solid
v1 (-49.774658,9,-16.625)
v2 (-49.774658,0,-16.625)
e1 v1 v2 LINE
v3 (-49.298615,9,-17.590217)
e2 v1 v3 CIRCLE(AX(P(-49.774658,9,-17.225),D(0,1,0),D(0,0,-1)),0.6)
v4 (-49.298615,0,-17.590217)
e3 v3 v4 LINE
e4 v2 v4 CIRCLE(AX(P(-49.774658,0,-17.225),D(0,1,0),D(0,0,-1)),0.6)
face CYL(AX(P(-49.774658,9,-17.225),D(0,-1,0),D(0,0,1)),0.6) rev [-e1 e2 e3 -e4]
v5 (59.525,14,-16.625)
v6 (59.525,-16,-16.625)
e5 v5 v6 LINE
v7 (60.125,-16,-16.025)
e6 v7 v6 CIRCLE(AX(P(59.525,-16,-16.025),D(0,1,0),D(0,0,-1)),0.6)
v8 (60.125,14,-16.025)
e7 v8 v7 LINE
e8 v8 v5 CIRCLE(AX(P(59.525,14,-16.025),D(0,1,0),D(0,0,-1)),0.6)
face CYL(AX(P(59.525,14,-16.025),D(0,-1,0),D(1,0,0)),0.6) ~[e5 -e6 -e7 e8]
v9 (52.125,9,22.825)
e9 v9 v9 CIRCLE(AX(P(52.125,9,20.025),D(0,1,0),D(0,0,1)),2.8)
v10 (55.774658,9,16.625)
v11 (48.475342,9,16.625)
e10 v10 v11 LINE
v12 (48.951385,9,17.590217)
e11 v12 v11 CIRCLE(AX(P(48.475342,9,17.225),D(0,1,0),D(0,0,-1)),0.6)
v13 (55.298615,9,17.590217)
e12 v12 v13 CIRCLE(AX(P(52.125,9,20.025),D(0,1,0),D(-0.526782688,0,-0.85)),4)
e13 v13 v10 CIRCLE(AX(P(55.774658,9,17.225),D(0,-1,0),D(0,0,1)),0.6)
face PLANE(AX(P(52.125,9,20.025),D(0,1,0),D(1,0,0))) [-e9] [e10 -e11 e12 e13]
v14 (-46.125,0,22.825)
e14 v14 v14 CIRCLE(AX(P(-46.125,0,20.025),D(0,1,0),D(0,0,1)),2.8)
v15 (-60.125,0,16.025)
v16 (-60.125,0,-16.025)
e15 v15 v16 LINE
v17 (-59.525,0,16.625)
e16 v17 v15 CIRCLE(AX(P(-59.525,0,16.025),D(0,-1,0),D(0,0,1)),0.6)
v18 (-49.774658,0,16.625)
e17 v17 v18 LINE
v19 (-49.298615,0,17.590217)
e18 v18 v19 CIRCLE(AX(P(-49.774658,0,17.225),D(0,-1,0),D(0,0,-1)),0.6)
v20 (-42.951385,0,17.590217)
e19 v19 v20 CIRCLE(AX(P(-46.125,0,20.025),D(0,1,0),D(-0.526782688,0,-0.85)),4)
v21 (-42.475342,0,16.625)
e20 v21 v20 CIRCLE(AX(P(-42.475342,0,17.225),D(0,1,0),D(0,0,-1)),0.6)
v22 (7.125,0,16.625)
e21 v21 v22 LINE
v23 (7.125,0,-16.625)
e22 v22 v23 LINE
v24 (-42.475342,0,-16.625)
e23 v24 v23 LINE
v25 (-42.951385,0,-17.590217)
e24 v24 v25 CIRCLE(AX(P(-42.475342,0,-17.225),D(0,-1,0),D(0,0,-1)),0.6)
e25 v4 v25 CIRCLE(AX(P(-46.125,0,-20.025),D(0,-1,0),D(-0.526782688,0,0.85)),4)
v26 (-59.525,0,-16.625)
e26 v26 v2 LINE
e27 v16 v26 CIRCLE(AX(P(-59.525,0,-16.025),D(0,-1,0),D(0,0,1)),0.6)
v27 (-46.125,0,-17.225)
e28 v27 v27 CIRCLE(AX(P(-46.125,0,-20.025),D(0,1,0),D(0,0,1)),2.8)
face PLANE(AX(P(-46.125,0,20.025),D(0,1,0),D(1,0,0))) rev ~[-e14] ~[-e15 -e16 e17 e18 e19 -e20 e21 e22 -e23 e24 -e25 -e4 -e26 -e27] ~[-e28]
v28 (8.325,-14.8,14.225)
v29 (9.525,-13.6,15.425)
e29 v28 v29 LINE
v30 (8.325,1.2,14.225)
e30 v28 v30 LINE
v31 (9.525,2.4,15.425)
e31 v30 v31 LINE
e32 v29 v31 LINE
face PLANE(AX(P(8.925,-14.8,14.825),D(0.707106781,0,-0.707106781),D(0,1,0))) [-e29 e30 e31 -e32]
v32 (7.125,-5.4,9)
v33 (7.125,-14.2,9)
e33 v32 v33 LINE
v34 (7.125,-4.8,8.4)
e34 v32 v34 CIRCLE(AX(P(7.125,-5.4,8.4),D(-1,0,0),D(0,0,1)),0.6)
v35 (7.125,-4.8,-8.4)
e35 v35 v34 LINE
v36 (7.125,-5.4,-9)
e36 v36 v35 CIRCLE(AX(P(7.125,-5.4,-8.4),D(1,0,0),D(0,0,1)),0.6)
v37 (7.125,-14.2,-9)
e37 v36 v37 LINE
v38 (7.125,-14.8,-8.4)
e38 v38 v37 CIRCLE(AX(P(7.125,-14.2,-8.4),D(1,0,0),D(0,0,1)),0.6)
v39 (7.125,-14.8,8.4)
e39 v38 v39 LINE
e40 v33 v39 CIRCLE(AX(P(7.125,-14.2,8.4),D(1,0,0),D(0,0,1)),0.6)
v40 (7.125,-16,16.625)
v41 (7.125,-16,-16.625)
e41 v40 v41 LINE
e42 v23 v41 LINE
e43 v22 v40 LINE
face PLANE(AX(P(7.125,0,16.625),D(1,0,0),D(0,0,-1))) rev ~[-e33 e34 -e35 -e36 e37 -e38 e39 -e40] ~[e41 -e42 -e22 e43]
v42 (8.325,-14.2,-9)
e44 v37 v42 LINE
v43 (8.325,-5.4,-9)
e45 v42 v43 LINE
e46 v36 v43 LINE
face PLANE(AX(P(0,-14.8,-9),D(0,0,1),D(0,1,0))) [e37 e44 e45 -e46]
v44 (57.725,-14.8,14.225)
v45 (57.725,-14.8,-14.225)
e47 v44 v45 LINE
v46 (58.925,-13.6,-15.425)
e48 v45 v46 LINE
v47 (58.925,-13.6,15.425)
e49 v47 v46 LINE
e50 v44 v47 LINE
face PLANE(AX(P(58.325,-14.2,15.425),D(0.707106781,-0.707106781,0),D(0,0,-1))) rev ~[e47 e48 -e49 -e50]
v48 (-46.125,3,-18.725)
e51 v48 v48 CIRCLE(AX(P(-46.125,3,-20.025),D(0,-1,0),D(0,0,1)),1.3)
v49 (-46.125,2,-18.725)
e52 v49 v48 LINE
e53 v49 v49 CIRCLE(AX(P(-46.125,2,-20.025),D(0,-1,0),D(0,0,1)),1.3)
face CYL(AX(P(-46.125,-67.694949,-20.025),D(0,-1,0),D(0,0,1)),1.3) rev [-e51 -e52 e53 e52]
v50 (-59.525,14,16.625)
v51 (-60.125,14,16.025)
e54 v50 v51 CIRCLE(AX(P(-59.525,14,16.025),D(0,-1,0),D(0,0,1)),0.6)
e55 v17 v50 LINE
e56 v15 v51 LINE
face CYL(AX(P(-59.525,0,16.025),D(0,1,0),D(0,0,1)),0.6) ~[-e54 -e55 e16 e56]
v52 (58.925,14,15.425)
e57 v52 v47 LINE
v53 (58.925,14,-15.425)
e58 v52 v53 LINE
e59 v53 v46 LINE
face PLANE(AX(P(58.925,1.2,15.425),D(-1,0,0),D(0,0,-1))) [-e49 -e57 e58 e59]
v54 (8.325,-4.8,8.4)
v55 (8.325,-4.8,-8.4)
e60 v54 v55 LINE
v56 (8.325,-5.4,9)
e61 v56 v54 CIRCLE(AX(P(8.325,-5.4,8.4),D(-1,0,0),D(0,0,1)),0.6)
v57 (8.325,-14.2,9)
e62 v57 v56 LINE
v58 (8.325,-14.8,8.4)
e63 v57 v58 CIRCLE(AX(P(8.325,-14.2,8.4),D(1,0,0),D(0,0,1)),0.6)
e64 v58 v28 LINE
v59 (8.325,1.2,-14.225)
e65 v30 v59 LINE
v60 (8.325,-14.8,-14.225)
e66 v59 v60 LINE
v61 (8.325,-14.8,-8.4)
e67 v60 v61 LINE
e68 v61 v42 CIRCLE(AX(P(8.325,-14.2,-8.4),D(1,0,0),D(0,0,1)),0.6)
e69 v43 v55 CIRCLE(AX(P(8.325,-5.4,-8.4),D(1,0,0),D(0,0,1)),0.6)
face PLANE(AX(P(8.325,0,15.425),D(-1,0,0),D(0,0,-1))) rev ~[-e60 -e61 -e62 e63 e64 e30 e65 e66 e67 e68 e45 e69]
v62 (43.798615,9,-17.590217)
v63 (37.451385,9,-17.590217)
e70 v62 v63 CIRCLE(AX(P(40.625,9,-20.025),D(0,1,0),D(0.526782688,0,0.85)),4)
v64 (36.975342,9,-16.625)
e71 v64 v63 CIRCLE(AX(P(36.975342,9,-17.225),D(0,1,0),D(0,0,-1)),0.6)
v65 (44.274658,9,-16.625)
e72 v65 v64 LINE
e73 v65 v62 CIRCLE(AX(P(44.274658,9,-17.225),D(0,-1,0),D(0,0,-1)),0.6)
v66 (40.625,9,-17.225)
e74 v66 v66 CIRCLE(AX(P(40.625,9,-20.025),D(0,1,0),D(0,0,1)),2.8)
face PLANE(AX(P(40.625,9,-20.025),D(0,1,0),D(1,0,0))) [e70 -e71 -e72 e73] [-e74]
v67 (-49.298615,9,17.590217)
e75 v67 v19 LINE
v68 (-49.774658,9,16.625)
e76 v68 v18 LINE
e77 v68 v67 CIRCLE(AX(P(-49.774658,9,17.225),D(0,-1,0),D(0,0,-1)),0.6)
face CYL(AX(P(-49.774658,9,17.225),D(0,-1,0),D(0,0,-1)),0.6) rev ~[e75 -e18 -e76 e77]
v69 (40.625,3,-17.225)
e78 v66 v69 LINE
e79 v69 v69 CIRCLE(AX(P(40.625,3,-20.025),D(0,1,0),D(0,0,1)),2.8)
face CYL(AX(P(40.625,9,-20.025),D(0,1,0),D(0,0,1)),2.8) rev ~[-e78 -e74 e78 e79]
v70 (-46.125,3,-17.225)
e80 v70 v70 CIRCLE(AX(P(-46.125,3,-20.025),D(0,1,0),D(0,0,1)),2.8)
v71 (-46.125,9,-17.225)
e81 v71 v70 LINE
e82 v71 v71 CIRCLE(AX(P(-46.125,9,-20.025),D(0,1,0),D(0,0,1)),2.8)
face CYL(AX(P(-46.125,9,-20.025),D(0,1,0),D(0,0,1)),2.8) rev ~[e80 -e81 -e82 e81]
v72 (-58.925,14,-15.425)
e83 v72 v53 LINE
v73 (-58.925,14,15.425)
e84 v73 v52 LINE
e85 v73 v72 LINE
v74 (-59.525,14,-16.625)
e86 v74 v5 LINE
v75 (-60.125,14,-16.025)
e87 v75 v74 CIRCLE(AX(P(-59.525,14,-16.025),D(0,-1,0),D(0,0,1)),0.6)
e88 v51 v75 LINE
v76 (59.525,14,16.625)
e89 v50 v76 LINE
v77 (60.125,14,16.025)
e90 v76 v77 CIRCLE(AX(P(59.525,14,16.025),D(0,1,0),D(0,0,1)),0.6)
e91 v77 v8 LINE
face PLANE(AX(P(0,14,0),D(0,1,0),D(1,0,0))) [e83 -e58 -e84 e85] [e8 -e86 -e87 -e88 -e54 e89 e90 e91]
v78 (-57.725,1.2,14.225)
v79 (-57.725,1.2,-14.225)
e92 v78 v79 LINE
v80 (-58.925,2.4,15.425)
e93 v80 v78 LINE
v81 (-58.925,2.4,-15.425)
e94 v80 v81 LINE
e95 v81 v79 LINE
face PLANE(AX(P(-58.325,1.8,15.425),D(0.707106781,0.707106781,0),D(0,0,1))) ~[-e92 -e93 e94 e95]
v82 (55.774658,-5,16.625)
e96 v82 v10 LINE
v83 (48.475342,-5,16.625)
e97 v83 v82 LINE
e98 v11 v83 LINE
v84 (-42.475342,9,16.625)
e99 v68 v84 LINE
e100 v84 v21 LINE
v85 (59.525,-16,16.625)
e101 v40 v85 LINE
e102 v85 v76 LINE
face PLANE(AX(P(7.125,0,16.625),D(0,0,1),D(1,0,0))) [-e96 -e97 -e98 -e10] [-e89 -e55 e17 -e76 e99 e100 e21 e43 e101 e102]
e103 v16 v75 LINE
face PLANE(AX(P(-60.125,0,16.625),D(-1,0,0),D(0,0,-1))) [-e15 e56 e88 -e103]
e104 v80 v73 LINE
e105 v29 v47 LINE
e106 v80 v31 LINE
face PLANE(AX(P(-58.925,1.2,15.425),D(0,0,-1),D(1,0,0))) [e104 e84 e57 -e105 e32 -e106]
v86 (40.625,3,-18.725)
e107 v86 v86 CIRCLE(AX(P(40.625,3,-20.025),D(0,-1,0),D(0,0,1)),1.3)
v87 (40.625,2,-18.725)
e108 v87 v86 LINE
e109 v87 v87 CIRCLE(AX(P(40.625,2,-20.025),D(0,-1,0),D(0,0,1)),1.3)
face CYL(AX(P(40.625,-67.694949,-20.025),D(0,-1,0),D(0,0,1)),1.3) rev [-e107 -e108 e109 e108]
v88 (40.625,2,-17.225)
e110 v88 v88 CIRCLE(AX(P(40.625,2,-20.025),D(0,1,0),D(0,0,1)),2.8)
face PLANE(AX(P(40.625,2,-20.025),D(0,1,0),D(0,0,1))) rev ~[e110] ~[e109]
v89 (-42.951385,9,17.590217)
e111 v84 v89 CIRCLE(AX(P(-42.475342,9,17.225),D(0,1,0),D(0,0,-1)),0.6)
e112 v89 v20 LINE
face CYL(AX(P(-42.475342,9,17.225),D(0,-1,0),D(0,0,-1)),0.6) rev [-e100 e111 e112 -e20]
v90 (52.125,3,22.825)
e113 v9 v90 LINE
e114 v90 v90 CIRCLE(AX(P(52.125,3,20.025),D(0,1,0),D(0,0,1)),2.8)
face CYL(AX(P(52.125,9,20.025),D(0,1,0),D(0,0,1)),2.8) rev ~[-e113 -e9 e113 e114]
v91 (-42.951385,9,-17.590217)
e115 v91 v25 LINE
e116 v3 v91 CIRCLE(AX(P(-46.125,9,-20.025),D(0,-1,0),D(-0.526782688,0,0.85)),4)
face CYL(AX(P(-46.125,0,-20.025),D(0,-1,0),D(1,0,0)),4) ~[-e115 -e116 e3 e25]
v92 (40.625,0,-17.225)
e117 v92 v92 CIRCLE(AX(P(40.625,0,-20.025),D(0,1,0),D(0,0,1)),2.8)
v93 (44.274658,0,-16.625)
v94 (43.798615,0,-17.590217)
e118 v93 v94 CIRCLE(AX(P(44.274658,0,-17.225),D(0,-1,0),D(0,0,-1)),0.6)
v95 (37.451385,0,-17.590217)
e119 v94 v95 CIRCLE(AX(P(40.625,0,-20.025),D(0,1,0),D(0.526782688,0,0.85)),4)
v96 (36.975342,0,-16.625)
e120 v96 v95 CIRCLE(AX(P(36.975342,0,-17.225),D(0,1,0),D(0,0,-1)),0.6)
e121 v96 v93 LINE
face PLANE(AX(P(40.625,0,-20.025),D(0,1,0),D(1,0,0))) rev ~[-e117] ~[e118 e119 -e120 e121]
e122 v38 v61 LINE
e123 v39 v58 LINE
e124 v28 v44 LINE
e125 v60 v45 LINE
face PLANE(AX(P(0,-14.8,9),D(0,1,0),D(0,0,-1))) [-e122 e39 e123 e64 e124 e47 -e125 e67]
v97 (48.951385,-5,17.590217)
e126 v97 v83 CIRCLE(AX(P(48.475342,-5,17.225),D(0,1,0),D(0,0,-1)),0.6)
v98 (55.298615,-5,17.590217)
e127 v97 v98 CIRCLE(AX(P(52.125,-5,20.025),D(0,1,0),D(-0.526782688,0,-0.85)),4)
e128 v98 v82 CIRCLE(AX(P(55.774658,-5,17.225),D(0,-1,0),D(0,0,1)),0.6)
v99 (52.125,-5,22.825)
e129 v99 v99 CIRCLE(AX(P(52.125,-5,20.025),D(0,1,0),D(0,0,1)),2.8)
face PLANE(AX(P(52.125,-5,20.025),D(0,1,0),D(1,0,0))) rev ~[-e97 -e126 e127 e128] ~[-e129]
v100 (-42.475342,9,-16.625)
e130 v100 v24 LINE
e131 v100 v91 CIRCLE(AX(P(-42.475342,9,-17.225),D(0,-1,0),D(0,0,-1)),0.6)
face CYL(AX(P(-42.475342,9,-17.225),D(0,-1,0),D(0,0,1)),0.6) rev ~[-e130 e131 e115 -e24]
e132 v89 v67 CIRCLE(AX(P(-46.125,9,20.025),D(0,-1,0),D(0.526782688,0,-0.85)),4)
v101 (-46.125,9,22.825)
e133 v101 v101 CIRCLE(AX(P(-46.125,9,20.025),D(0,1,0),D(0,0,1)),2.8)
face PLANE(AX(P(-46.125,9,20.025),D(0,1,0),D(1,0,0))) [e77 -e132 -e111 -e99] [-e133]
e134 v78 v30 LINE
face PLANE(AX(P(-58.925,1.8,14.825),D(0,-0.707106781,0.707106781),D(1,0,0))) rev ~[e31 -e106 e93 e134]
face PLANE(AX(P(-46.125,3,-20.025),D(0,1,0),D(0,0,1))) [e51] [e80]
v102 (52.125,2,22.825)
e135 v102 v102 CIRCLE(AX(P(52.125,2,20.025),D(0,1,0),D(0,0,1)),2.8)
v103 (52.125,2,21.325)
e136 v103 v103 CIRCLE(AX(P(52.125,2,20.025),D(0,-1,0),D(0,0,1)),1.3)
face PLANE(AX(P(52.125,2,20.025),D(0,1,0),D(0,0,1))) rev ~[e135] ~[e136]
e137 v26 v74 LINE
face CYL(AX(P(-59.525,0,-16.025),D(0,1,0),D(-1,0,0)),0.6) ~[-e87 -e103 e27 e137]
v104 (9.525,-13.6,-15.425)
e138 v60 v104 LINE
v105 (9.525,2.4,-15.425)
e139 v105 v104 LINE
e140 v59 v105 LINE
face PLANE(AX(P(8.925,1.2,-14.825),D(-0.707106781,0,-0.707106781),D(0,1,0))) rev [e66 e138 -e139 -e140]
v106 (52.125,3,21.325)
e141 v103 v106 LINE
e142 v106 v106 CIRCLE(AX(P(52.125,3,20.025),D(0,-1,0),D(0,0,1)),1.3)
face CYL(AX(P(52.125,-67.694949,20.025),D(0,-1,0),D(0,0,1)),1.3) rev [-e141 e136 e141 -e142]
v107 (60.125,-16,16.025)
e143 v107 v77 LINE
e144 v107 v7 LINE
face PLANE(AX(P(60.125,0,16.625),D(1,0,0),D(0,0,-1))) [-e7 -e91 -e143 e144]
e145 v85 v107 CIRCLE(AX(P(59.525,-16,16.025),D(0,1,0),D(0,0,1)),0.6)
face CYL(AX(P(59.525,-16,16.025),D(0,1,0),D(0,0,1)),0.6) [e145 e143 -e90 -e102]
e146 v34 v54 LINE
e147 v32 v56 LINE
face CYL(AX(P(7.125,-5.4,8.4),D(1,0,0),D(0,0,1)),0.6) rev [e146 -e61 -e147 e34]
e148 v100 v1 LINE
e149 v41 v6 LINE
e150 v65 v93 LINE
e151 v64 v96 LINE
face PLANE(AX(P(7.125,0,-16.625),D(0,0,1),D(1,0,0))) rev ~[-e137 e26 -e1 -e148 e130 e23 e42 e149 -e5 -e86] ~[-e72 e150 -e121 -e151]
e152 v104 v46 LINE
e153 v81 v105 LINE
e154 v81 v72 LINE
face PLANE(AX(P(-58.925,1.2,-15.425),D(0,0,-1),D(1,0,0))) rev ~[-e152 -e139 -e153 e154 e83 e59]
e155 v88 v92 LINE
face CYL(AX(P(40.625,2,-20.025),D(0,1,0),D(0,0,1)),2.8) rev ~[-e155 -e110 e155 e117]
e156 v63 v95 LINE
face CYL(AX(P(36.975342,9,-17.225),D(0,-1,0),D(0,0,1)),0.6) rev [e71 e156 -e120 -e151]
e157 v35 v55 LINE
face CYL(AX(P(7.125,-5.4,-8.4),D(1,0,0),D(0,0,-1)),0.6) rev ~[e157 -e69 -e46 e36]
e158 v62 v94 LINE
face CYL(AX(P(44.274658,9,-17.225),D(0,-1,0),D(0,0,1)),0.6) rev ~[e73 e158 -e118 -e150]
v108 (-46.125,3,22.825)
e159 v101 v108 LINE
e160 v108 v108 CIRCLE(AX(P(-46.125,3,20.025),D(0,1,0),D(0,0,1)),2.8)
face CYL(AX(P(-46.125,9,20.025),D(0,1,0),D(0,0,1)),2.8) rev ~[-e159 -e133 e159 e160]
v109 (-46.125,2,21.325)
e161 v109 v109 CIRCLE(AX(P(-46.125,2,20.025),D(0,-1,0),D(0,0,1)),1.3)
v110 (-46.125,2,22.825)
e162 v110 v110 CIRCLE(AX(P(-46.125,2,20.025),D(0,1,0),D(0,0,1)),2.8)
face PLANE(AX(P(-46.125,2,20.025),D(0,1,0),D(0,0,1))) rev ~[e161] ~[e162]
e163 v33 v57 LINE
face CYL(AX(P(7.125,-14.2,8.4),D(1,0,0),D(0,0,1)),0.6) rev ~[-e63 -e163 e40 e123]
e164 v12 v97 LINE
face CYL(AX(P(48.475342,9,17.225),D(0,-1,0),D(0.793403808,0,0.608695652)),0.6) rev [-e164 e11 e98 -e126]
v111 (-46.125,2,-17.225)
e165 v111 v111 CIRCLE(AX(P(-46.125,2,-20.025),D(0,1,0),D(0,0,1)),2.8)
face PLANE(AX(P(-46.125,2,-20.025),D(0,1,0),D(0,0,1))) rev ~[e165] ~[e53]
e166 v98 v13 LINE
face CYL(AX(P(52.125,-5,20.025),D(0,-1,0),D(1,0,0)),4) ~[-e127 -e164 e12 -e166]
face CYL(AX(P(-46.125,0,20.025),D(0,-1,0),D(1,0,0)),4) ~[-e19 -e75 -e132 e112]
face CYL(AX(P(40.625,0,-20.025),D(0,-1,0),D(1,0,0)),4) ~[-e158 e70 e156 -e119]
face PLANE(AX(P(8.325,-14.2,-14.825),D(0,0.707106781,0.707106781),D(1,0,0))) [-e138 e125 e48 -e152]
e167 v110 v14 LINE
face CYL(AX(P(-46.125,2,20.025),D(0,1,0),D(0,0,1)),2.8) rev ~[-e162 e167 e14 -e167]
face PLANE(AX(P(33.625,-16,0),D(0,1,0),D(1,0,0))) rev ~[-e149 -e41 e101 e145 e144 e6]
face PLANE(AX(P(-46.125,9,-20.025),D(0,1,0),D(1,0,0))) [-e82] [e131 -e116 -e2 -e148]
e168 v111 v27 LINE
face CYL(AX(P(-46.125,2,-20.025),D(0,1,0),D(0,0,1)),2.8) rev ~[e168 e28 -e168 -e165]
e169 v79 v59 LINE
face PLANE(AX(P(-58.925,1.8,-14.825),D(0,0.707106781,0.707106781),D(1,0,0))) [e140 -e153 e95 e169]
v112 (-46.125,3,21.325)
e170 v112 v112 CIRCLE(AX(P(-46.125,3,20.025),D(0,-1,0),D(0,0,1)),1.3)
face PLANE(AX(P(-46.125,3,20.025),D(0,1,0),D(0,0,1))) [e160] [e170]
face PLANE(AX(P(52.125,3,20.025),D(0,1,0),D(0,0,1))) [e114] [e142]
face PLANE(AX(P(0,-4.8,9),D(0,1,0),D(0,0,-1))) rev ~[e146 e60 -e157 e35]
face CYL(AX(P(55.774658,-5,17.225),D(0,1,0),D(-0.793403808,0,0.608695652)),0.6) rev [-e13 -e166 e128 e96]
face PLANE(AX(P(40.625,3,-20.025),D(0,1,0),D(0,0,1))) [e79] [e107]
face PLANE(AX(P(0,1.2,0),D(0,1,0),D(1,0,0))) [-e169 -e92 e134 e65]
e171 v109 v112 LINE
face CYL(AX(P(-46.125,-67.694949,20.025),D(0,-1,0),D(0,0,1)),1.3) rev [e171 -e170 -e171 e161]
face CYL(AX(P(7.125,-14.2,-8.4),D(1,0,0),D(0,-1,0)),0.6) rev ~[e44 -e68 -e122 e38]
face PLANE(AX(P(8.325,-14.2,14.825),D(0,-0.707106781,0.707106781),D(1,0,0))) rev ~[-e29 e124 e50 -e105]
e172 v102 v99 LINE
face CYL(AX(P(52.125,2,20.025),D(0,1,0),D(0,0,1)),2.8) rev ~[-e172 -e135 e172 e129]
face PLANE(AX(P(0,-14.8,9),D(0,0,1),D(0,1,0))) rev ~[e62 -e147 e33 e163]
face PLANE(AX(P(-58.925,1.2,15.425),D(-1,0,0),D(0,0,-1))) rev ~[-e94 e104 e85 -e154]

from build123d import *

# Parameters (mm, degrees)
SKETCH1_W                      = 120.25
SKETCH1_H                      = 33.25
BOSS_EXTRUDE1_DEPTH            = 14
CUT_EXTRUDE1_REACH             = 67.133
CUT_EXTRUDE1_START             = 1.2
SKETCH1_3_W                    = 117.85
SKETCH1_3_H                    = 30.85
SKETCH2_W                      = 53
SKETCH2_H                      = 33.25
BOSS_EXTRUDE2_DEPTH            = 16
SKETCH2_3_W                    = 50.6
SKETCH2_3_H                    = 30.85
CUT_EXTRUDE2_DEPTH             = 14.8
CUT_EXTRUDE2_DIRECTION_2_REACH = 66.4
SKETCH3_W                      = 18
SKETCH3_H                      = 10
CUT_EXTRUDE4_DEPTH             = 8.325
SKETCH1_4_R                    = 4
BOSS_EXTRUDE3_DEPTH            = 9
BOSS_EXTRUDE4_START            = -5
SKETCH1_5_R                    = 4
BOSS_EXTRUDE4_DEPTH            = 5
CUT_EXTRUDE5_START             = 9
SKETCH1_6_R                    = 2.8
CUT_EXTRUDE5_DEPTH             = 6
CUT_EXTRUDE6_START             = 2
SKETCH1_7_R                    = 2.8
CUT_EXTRUDE6_DEPTH             = 7
CUT_EXTRUDE7_DEPTH             = 67.694949209
CUT_EXTRUDE7_DEPTH_BACK        = 67.694949209
SKETCH1_8_R                    = 1.3
CUT_EXTRUDE8_START             = 2
SKETCH1_9_R                    = 2.8
CUT_EXTRUDE8_DEPTH             = 2
FILLET1_R                      = 0.6
CHAMFER1_SIZE                  = 1.2


with BuildPart() as part:
    # Sketch1 → Boss-Extrude1 (new body)
    with BuildSketch(Plane(origin=(0, 0, 0), x_dir=(1, 0, 0), z_dir=(0, 1, 0))):
        Rectangle(SKETCH1_W, SKETCH1_H)
    extrude(amount=BOSS_EXTRUDE1_DEPTH)

    # Sketch1<3> → Cut-Extrude1 (cut, up to next)
    with BuildSketch(Plane(origin=(0, 0, 0), x_dir=(1, 0, 0), z_dir=(0, 1, 0)).offset(CUT_EXTRUDE1_START), mode=Mode.PRIVATE) as cut_extrude1_sk1:
        Rectangle(SKETCH1_3_W, SKETCH1_3_H)
    cut_extrude1_tool1 = extrude(cut_extrude1_sk1.sketch, amount=CUT_EXTRUDE1_REACH, mode=Mode.PRIVATE) & part.part
    add(cut_extrude1_tool1.solids().sort_by_distance((0, 1.2, 0))[0], mode=Mode.SUBTRACT)

    # Sketch2 → Boss-Extrude2 (add)
    with BuildSketch(Plane(origin=(0, 0, 0), x_dir=(1, 0, 0), z_dir=(0, 1, 0))):
        with Locations((33.625, 0)):
            Rectangle(SKETCH2_W, SKETCH2_H)
    extrude(amount=-BOSS_EXTRUDE2_DEPTH)

    # Sketch2<3> → Cut-Extrude2 (cut)
    with BuildSketch(Plane(origin=(0, 0, 0), x_dir=(1, 0, 0), z_dir=(0, 1, 0))):
        with Locations((33.625, 0)):
            Rectangle(SKETCH2_3_W, SKETCH2_3_H)
    extrude(amount=-CUT_EXTRUDE2_DEPTH, mode=Mode.SUBTRACT)

    # Sketch2<3> → Cut-Extrude2 direction 2 (cut, up to next)
    with BuildSketch(Plane(origin=(0, 0, 0), x_dir=(1, 0, 0), z_dir=(0, 1, 0)), mode=Mode.PRIVATE) as cut_extrude2_direction_2_sk1:
        with Locations((33.625, 0)):
            Rectangle(SKETCH2_3_W, SKETCH2_3_H)
    cut_extrude2_direction_2_tool1 = extrude(cut_extrude2_direction_2_sk1.sketch, amount=CUT_EXTRUDE2_DIRECTION_2_REACH, mode=Mode.PRIVATE) & part.part
    add(cut_extrude2_direction_2_tool1.solids().sort_by_distance((33.625, 0, 0))[0], mode=Mode.SUBTRACT)

    # Sketch3 → Cut-Extrude4 (cut)
    with BuildSketch(Plane(origin=(0, 0, 0), x_dir=(0, 0, -1), z_dir=(1, 0, 0))):
        with Locations((0, -9.8)):
            Rectangle(SKETCH3_W, SKETCH3_H)
    extrude(amount=CUT_EXTRUDE4_DEPTH, mode=Mode.SUBTRACT)

    # Sketch1<4> → Boss-Extrude3 (add)
    with BuildSketch(Plane(origin=(0, 0, 0), x_dir=(1, 0, 0), z_dir=(0, 1, 0))):
        with Locations((-46.125, -20.025)):
            Circle(SKETCH1_4_R)
        with Locations((52.125, -20.025)):
            Circle(SKETCH1_4_R)
        with Locations((-46.125, 20.025)):
            Circle(SKETCH1_4_R)
        with Locations((40.625, 20.025)):
            Circle(SKETCH1_4_R)
    extrude(amount=BOSS_EXTRUDE3_DEPTH)

    # Sketch1<5> → Boss-Extrude4 (add)
    with BuildSketch(Plane(origin=(0, 0, 0), x_dir=(1, 0, 0), z_dir=(0, 1, 0)).offset(BOSS_EXTRUDE4_START)):
        with Locations((52.125, -20.025)):
            Circle(SKETCH1_5_R)
    extrude(amount=BOSS_EXTRUDE4_DEPTH)

    # Sketch1<6> → Cut-Extrude5 (cut)
    with BuildSketch(Plane(origin=(0, 0, 0), x_dir=(1, 0, 0), z_dir=(0, 1, 0)).offset(CUT_EXTRUDE5_START)):
        with Locations(Location((-46.125, 20.025, 0), (0, 0, 270))):
            Circle(SKETCH1_6_R)
        with Locations(Location((-46.125, -20.025, 0), (0, 0, 270))):
            Circle(SKETCH1_6_R)
        with Locations(Location((52.125, -20.025, 0), (0, 0, 270))):
            Circle(SKETCH1_6_R)
        with Locations(Location((40.625, 20.025, 0), (0, 0, 270))):
            Circle(SKETCH1_6_R)
    extrude(amount=-CUT_EXTRUDE5_DEPTH, mode=Mode.SUBTRACT)

    # Sketch1<7> → Cut-Extrude6 (cut)
    with BuildSketch(Plane(origin=(0, 0, 0), x_dir=(1, 0, 0), z_dir=(0, 1, 0)).offset(CUT_EXTRUDE6_START)):
        with Locations(Location((52.125, -20.025, 0), (0, 0, 270))):
            Circle(SKETCH1_7_R)
    extrude(amount=-CUT_EXTRUDE6_DEPTH, mode=Mode.SUBTRACT)

    # Sketch1<8> → Cut-Extrude7 (cut, two sides: drawn at the far end of the back side and taken through both)
    with BuildSketch(Plane(origin=(0, 0, 0), x_dir=(1, 0, 0), z_dir=(0, 1, 0)).offset(-CUT_EXTRUDE7_DEPTH_BACK)):
        with Locations(Location((-46.125, 20.025, 0), (0, 0, 270))):
            Circle(SKETCH1_8_R)
        with Locations(Location((-46.125, -20.025, 0), (0, 0, 270))):
            Circle(SKETCH1_8_R)
        with Locations(Location((52.125, -20.025, 0), (0, 0, 270))):
            Circle(SKETCH1_8_R)
        with Locations(Location((40.625, 20.025, 0), (0, 0, 270))):
            Circle(SKETCH1_8_R)
    extrude(amount=CUT_EXTRUDE7_DEPTH + CUT_EXTRUDE7_DEPTH_BACK, mode=Mode.SUBTRACT)

    # Sketch1<9> → Cut-Extrude8 (cut)
    with BuildSketch(Plane(origin=(0, 0, 0), x_dir=(1, 0, 0), z_dir=(0, 1, 0)).offset(CUT_EXTRUDE8_START)):
        with Locations(Location((-46.125, 20.025, 0), (0, 0, 270))):
            Circle(SKETCH1_9_R)
        with Locations(Location((-46.125, -20.025, 0), (0, 0, 270))):
            Circle(SKETCH1_9_R)
        with Locations(Location((40.625, 20.025, 0), (0, 0, 270))):
            Circle(SKETCH1_9_R)
    extrude(amount=-CUT_EXTRUDE8_DEPTH, mode=Mode.SUBTRACT)

    # Fillet1
    fillet1_edges = [part.edges().sort_by_distance(p)[0] for p in [
        (7.725, -4.8, 9),
        (7.725, -14.8, 9),
        (7.725, -14.8, -9),
        (7.725, -4.8, -9),
        (54.232130751, 2, 16.625),
        (50.017869249, 2, 16.625),
        (60.125, -1, 16.625),
        (-48.232130751, 4.5, 16.625),
        (-44.017869249, 4.5, 16.625),
        (-60.125, 7, 16.625),
        (-60.125, 7, -16.625),
        (60.125, -1, -16.625),
        (42.732130751, 4.5, -16.625),
        (38.517869249, 4.5, -16.625),
        (-48.232130751, 4.5, -16.625),
        (-44.017869249, 4.5, -16.625),
    ]]
    fillet(fillet1_edges, radius=FILLET1_R)

    # Chamfer1
    chamfer1_edges = [part.edges().sort_by_distance(p)[0] for p in [
        (-58.925, 1.2, 0),
        (-25.3, 1.2, -15.425),
        (-25.3, 1.2, 15.425),
        (8.325, -6.8, -15.425),
        (8.325, -6.8, 15.425),
        (33.625, -14.8, 15.425),
        (58.925, -14.8, 0),
        (33.625, -14.8, -15.425),
    ]]
    chamfer(chamfer1_edges, length=CHAMFER1_SIZE)


solid = part.part
